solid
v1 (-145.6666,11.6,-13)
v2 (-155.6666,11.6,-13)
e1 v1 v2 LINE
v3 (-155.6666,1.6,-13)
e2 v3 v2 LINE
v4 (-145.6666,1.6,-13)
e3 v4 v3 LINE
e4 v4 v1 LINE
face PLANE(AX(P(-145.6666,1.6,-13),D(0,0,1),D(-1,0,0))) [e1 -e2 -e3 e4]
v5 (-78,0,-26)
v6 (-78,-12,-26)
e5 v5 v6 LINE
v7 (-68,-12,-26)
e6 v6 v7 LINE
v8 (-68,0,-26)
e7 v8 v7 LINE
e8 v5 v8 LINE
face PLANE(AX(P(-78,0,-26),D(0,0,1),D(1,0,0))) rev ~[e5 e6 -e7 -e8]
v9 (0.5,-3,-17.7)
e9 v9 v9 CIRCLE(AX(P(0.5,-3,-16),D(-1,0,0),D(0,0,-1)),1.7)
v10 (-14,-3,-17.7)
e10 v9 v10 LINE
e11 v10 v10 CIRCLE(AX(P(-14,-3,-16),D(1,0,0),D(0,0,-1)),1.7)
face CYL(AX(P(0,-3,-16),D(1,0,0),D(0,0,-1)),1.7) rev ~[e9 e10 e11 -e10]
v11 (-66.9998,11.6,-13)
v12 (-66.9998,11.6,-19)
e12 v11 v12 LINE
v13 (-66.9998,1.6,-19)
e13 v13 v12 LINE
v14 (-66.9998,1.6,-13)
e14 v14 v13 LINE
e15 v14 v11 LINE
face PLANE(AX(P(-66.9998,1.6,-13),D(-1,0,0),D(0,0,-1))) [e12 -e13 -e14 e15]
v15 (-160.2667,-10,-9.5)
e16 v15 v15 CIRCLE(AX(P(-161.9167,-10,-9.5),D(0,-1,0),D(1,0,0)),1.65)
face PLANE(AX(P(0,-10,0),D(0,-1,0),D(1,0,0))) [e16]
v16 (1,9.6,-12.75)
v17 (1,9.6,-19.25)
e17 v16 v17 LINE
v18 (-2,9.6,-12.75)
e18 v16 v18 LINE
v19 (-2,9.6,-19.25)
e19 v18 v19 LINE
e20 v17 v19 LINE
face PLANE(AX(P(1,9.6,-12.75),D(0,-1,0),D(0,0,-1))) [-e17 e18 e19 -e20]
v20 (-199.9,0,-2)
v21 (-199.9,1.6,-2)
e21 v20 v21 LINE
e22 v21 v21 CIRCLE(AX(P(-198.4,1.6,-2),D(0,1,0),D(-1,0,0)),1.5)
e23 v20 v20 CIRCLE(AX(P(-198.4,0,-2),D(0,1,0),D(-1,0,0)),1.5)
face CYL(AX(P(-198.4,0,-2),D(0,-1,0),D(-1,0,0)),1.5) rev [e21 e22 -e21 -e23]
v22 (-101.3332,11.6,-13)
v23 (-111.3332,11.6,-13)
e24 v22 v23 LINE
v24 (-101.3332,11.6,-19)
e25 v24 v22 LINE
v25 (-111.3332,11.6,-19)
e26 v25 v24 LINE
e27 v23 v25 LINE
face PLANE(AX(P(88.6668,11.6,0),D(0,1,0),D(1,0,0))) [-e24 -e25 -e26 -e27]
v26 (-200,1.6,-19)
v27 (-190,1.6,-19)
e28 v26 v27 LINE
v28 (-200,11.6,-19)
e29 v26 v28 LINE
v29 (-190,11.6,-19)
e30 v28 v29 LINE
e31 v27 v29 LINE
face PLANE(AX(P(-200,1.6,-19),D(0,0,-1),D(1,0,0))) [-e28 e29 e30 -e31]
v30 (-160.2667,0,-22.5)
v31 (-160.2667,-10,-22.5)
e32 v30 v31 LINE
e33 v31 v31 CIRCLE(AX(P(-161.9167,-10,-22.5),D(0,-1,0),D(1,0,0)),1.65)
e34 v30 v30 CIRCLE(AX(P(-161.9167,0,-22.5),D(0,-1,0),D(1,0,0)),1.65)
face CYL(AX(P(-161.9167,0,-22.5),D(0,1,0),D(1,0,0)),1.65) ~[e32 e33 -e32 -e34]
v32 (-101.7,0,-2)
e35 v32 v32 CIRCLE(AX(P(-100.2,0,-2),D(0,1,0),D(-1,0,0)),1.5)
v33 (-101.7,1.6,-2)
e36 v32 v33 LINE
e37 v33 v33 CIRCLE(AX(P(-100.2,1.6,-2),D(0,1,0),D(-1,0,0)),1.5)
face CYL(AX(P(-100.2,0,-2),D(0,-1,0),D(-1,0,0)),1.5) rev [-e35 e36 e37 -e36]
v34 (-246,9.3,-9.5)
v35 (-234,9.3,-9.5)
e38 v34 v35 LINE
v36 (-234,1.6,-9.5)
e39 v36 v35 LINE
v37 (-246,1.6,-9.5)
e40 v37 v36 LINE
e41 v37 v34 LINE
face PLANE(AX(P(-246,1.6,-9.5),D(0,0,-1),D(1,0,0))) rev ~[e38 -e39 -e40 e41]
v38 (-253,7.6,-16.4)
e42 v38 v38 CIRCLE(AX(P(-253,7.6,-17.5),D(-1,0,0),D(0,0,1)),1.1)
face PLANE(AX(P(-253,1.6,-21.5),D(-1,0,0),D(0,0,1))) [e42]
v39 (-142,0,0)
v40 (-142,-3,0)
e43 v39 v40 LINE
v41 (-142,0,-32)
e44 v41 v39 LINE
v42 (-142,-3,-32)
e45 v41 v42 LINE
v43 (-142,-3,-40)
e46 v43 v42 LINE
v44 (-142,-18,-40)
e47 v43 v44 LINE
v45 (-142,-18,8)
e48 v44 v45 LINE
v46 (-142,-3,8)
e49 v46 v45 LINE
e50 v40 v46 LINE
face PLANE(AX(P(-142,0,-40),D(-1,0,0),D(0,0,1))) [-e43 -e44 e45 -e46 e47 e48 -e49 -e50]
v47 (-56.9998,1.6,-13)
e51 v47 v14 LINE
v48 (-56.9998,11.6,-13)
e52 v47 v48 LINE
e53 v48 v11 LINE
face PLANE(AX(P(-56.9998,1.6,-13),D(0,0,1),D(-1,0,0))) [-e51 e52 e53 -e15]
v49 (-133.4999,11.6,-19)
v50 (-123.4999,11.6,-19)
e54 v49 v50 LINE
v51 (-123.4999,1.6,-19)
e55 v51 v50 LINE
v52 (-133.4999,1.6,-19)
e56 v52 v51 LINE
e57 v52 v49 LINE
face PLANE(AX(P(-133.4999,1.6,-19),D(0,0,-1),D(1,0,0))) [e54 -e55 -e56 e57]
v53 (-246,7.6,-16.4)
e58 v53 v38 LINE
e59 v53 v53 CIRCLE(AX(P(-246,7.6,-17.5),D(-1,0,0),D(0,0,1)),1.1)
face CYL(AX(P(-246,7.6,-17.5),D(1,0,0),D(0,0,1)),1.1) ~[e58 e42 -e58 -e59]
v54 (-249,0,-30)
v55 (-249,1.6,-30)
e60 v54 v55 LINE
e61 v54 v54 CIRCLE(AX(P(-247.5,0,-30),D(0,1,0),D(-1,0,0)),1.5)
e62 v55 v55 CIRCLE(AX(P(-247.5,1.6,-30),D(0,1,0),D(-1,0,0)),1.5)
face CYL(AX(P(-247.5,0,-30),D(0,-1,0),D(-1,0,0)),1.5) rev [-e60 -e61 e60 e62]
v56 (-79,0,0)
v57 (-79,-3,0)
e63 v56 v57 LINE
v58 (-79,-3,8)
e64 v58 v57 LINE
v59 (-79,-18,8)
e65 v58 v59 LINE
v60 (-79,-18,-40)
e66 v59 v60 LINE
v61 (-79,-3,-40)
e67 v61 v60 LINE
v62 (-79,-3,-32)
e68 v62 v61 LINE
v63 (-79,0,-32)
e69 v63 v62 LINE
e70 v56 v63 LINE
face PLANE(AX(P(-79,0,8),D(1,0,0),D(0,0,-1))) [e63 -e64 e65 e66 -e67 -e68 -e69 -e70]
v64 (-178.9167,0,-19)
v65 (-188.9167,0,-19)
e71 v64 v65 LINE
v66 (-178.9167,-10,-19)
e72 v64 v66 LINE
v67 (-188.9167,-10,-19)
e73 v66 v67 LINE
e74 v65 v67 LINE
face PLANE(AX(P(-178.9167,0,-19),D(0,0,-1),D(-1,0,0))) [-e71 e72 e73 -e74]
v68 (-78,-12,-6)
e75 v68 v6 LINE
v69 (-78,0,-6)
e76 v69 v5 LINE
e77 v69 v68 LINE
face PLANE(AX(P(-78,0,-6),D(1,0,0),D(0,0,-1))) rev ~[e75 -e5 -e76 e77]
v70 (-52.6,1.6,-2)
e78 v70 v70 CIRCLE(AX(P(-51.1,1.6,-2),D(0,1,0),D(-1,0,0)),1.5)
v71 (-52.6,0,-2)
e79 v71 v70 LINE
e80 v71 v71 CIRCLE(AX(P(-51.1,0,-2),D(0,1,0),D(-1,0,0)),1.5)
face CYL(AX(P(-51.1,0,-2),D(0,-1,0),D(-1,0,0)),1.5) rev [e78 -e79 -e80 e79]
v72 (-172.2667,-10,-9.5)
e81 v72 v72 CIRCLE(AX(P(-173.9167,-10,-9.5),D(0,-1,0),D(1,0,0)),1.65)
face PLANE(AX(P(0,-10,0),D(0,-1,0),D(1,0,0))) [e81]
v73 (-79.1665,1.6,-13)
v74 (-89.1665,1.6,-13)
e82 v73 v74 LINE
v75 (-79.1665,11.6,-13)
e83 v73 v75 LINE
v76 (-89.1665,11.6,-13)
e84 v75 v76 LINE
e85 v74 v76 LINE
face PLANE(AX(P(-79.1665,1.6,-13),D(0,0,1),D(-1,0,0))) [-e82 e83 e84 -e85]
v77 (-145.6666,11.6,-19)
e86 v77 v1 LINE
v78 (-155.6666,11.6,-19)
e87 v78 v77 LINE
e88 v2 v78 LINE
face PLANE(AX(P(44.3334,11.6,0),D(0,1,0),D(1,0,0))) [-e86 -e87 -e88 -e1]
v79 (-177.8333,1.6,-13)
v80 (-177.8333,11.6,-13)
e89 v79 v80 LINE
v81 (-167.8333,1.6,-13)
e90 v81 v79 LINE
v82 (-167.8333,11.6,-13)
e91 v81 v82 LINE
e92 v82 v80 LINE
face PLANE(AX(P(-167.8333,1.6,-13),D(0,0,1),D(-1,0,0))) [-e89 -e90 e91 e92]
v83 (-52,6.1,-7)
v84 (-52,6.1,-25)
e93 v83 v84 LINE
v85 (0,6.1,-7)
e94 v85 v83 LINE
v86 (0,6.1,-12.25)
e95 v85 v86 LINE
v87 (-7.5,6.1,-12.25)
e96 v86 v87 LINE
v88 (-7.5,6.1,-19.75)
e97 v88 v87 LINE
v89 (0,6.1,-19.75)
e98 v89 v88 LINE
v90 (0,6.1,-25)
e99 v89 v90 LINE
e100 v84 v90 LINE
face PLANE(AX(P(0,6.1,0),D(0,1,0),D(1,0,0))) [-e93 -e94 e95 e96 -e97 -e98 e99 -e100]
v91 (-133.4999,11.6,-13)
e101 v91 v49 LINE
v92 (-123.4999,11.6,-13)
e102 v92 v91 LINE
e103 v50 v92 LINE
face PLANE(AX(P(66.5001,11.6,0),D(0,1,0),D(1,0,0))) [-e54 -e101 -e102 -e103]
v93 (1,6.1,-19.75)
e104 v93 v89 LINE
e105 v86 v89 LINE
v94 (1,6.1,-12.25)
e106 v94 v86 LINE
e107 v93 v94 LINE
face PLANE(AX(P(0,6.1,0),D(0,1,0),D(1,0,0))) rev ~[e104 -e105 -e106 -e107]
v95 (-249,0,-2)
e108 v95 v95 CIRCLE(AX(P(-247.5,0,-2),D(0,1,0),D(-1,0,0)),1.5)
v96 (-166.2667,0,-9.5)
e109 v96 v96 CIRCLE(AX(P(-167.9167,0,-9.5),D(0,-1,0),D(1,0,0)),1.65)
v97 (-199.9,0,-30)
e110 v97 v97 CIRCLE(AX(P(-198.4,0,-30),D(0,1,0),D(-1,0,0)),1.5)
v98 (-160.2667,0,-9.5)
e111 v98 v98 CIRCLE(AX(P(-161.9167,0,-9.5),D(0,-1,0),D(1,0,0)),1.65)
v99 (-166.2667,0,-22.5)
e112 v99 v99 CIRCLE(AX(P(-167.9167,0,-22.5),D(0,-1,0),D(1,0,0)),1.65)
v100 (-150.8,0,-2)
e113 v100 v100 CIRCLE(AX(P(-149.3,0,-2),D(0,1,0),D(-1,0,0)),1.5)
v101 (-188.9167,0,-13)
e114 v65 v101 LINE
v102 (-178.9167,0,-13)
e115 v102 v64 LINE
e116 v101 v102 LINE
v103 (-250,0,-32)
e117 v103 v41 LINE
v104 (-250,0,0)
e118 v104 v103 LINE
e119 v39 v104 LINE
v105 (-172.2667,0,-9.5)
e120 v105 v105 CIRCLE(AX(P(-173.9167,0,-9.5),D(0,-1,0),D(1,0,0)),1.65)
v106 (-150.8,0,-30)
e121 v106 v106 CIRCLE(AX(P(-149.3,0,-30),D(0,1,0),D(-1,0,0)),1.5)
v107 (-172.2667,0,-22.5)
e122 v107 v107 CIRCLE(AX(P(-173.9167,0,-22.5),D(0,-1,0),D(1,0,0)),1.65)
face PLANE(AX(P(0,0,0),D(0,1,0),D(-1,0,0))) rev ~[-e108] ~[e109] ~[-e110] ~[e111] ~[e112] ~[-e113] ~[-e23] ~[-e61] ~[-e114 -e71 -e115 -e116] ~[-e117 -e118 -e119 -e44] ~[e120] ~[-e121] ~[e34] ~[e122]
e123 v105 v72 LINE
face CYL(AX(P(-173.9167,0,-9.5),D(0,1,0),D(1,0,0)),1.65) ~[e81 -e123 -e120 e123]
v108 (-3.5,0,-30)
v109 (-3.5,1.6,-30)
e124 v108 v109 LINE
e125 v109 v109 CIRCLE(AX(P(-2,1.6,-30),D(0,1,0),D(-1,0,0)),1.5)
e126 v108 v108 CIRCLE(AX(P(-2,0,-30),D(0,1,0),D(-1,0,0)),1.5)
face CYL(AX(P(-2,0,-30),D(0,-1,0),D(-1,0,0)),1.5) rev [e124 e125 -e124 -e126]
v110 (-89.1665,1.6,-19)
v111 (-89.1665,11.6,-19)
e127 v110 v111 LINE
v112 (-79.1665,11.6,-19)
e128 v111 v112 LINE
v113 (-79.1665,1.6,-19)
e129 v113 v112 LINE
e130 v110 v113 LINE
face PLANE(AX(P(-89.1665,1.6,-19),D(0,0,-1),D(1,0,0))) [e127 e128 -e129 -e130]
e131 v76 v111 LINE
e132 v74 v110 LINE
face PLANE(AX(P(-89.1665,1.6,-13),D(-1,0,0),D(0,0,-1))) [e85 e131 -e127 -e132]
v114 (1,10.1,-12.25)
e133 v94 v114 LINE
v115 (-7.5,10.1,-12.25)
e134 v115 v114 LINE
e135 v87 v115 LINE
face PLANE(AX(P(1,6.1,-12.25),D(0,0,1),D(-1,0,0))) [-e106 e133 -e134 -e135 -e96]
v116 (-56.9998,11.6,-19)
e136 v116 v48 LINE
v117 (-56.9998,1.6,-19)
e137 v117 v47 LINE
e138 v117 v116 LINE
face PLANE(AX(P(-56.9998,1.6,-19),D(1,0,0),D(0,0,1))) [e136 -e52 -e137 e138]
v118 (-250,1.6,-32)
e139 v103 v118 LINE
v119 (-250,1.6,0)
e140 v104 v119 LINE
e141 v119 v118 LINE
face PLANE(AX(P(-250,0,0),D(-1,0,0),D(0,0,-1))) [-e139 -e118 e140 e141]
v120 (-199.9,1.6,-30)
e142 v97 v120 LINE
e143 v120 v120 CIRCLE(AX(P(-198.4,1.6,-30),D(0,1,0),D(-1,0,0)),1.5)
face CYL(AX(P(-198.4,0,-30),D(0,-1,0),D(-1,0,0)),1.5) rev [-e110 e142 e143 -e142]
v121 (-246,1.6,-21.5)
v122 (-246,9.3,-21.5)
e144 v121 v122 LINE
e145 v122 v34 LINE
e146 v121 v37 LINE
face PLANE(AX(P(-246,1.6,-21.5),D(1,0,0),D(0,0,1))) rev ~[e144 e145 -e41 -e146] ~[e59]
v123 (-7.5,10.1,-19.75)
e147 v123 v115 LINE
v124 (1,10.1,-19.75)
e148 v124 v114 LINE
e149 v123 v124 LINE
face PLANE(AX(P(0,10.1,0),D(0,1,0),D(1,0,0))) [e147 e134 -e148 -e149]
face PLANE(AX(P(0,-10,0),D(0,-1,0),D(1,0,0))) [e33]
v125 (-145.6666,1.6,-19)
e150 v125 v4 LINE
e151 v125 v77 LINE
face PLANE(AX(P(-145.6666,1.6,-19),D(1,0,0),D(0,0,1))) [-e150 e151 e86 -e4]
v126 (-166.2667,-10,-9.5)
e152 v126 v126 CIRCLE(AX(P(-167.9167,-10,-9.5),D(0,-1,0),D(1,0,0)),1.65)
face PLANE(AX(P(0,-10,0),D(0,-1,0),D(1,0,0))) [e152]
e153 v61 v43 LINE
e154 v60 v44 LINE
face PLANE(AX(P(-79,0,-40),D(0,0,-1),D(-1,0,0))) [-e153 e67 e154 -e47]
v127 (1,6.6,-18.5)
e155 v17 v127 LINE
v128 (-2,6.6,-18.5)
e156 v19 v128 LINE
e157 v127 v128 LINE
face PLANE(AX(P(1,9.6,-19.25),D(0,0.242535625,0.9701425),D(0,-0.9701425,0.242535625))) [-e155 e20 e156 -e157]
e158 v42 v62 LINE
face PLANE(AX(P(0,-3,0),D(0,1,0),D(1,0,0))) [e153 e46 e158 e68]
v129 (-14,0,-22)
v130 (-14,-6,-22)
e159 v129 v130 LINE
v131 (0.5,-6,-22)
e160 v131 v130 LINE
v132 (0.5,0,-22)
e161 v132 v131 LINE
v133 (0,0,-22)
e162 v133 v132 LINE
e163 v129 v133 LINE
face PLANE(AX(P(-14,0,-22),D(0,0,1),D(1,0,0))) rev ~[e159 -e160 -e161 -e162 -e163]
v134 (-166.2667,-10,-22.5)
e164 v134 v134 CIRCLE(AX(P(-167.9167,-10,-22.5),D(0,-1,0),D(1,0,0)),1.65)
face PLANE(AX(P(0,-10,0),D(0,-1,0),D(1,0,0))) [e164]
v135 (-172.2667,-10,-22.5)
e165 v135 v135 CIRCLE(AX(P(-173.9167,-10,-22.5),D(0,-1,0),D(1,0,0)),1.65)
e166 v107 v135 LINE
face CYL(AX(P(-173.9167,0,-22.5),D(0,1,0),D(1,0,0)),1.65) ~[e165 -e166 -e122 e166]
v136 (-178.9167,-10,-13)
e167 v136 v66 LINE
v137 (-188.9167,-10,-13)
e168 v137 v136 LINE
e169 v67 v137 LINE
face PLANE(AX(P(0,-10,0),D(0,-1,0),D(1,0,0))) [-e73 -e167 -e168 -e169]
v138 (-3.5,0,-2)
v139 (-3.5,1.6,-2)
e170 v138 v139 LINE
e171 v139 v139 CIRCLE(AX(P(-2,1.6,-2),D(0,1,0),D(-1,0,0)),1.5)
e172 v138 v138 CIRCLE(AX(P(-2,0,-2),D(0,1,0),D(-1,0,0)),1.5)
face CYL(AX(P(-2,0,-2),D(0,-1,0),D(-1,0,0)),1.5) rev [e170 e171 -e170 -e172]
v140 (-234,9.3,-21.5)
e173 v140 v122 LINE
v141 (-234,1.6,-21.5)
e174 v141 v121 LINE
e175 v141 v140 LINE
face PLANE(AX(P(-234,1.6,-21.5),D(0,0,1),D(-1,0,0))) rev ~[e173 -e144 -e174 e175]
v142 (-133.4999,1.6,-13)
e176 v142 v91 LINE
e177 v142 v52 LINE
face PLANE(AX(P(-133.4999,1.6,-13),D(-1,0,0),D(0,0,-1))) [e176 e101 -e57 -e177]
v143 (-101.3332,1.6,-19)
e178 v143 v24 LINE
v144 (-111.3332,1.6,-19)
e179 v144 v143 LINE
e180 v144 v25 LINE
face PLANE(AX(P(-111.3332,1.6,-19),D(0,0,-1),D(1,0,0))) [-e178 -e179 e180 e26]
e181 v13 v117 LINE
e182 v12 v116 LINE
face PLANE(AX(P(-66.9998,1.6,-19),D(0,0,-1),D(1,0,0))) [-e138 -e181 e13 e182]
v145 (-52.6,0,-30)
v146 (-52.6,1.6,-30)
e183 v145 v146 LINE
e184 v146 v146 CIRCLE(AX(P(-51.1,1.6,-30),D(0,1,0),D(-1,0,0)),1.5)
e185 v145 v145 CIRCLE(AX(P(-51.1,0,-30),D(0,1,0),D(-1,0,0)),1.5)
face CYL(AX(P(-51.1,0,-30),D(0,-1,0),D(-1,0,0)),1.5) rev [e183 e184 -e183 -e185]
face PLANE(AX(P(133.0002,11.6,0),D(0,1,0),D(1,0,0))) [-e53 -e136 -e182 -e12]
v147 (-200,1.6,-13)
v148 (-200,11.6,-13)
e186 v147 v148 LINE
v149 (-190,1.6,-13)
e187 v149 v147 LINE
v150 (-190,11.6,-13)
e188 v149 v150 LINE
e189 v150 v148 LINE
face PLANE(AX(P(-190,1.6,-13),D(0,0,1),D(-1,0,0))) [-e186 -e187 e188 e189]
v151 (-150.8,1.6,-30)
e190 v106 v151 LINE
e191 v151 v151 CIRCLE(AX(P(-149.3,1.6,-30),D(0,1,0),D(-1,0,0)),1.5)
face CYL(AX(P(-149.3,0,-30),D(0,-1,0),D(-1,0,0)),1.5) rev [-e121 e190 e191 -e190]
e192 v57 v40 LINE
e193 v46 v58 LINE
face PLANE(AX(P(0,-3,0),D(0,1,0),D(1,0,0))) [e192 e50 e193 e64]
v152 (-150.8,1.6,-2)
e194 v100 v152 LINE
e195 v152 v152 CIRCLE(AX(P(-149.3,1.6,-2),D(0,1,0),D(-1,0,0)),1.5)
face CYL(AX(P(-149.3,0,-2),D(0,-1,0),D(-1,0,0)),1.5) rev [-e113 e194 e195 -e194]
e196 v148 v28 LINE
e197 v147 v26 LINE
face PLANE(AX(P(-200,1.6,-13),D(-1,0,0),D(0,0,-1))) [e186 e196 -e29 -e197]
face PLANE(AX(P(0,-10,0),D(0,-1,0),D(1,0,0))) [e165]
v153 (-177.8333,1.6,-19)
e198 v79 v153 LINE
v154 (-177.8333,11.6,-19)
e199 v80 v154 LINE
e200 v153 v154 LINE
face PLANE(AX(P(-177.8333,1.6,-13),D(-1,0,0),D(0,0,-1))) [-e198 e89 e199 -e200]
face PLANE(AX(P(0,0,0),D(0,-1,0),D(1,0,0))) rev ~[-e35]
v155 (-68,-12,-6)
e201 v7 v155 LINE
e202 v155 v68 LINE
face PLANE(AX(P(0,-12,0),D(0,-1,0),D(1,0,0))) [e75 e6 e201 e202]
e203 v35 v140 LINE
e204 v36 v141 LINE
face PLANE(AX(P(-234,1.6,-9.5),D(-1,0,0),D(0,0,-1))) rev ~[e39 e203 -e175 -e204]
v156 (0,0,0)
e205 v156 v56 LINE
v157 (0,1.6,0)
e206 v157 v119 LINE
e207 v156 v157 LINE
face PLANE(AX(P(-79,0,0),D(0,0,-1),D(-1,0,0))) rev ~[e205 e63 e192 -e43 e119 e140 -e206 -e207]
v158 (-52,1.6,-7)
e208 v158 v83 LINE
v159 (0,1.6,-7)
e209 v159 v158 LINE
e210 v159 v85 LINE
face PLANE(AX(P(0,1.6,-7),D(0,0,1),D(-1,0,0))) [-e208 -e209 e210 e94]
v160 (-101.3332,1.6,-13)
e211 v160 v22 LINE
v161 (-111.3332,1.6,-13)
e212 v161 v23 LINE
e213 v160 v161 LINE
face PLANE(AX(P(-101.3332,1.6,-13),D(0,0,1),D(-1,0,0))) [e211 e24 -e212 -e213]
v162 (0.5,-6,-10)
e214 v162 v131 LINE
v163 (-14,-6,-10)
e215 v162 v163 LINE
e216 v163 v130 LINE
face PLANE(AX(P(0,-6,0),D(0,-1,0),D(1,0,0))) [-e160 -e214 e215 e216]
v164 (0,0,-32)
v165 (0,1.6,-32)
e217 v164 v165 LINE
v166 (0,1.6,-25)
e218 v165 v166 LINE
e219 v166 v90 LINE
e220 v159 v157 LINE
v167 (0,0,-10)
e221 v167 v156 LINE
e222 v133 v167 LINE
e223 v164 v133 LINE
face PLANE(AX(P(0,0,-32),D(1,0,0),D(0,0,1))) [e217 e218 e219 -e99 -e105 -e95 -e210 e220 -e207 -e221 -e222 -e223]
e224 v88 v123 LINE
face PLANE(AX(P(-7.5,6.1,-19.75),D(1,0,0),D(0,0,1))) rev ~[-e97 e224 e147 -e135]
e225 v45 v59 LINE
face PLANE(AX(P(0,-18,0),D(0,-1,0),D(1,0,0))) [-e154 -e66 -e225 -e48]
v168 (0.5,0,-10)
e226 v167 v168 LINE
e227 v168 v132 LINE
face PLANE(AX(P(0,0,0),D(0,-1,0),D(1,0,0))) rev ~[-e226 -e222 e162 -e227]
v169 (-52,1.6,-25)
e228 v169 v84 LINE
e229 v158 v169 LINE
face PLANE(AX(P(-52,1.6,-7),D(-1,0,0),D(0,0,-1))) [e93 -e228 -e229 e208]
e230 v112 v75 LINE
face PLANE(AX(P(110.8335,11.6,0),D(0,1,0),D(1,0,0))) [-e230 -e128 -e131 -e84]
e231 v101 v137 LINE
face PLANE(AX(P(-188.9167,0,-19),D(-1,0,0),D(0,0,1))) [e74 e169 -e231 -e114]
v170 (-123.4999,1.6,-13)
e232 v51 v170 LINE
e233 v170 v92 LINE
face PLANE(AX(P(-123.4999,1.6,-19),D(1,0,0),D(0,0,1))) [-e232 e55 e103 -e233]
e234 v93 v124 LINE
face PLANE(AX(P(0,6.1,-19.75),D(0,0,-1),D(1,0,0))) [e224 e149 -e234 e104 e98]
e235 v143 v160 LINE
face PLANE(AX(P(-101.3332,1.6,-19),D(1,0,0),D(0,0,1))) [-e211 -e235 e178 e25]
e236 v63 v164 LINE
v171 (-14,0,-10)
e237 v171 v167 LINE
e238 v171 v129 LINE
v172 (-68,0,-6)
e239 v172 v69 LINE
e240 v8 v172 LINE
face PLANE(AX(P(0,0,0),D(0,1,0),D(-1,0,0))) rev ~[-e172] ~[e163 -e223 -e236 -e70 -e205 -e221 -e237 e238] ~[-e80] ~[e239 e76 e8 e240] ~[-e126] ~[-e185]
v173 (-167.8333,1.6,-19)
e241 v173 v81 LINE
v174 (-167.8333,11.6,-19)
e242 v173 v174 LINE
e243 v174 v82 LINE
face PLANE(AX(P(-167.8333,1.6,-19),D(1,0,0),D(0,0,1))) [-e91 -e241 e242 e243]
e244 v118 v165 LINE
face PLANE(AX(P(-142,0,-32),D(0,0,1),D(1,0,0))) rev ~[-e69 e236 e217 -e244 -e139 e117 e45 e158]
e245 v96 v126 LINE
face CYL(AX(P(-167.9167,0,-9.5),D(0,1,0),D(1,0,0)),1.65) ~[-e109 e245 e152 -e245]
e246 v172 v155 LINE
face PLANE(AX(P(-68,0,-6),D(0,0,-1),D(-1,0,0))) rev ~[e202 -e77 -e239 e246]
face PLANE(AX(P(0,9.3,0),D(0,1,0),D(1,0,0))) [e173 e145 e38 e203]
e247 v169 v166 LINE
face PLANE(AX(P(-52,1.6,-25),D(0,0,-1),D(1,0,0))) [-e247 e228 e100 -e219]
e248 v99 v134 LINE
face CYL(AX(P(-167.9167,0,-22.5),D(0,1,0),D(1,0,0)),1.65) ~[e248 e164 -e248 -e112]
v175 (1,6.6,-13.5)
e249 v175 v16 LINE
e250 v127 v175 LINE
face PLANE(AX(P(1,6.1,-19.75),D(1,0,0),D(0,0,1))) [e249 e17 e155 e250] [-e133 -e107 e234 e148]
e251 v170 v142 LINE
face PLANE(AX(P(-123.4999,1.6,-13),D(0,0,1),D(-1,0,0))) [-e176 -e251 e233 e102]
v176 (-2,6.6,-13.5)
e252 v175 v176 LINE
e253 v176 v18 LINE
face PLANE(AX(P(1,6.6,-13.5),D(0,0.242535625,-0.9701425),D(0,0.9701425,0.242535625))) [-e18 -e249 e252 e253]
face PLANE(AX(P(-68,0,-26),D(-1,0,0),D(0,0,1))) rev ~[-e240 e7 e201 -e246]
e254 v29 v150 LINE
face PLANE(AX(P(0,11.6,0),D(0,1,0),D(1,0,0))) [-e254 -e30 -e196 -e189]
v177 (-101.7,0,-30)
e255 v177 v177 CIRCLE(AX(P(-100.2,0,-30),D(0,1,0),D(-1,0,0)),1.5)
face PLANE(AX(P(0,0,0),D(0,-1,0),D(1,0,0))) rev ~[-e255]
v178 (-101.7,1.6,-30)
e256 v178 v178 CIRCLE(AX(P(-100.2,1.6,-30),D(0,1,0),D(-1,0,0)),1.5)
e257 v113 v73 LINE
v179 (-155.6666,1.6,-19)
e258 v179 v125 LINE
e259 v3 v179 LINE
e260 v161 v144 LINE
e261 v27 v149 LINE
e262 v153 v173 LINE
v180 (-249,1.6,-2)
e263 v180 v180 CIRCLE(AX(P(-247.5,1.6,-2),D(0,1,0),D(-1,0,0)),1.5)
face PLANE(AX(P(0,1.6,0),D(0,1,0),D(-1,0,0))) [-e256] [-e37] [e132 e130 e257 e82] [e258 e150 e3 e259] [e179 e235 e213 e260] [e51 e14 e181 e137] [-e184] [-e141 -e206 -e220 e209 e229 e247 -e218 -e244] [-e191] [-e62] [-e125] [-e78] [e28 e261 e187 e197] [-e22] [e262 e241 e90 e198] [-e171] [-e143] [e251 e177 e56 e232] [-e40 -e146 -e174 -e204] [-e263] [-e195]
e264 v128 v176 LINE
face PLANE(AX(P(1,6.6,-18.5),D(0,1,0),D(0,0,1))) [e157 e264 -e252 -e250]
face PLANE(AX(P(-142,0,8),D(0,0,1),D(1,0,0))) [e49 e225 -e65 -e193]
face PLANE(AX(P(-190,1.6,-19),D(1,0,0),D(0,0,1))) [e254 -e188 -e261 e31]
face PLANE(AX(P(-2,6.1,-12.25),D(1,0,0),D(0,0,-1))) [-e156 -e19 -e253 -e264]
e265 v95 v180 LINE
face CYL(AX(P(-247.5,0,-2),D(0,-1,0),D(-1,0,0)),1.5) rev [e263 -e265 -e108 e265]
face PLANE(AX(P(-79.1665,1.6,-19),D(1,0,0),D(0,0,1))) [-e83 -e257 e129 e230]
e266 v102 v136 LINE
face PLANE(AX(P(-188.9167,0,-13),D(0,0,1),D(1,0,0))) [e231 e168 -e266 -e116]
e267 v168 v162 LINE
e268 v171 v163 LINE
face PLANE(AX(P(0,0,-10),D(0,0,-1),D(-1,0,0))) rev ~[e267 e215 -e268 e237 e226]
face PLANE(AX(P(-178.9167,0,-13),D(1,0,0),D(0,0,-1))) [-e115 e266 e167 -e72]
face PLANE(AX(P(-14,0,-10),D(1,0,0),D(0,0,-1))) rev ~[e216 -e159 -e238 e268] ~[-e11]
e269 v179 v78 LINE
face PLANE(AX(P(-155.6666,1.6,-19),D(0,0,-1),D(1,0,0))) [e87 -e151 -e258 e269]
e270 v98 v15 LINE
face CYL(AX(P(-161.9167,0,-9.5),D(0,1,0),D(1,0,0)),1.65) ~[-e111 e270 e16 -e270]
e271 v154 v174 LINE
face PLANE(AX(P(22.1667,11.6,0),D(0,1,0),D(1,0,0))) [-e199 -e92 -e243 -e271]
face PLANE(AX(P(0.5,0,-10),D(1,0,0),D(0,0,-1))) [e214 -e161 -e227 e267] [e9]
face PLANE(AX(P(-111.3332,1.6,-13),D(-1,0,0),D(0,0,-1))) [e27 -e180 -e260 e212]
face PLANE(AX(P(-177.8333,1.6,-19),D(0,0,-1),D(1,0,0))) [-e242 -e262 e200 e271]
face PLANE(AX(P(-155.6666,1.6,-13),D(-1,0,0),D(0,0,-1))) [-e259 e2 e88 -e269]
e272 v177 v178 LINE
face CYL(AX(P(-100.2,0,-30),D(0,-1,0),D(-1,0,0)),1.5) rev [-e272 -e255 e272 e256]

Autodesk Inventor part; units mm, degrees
ref_plane "YZ Plane" through (0, 0, 0) normal (1, 0, 0) x (0, 1, 0)
ref_plane "XZ Plane" through (0, 0, 0) normal (0, 1, 0) x (-1, 0, 0)
ref_plane "XY Plane" through (0, 0, 0) normal (0, 0, 1) x (1, 0, 0)
sketch "Esquisse1" plane through (0, 0, 0) normal (0, 1, 0) x (-1, 0, 0)
  line L0 (0, 0) -> (250, 0)
  line L1 (250, 0) -> (250, -32)
  line L2 (250, -32) -> (0, -32)
  line L3 (0, -32) -> (0, 0)
  circle A0 centre (2, -2) radius 1.5
  line L4 (250, -16) -> (0, -16) construction
  circle A1 centre (2, -30) radius 1.5
  circle A2 centre (51.1, -2) radius 1.5
  circle A3 centre (51.1, -30) radius 1.5
  circle A4 centre (100.2, -2) radius 1.5
  circle A5 centre (100.2, -30) radius 1.5
  circle A6 centre (149.3, -2) radius 1.5
  circle A7 centre (149.3, -30) radius 1.5
  circle A8 centre (198.4, -2) radius 1.5
  circle A9 centre (198.4, -30) radius 1.5
  circle A10 centre (247.5, -2) radius 1.5
  circle A11 centre (247.5, -30) radius 1.5
  dimension "d0" = 32
  dimension "d1" = 250
  dimension "d2" = 2
  dimension "d3" = 2
  dimension "d4" = 3
  dimension "d7" = 49.1
extrude "Extrusion1" add sketch "Esquisse1" along normal blind 1.6
sketch "Esquisse2" plane through (0, 1.6, 0) normal (0, 1, 0) x (1, 0, 0)
  circle A0 centre (-247.5, 30) radius 1.5 construction
  circle A1 centre (-247.5, 2) radius 1.5 construction
  circle A2 centre (-198.4, 30) radius 1.5 construction
  circle A3 centre (-198.4, 2) radius 1.5 construction
  circle A4 centre (-149.3, 30) radius 1.5 construction
  circle A5 centre (-149.3, 2) radius 1.5 construction
  circle A6 centre (-100.2, 30) radius 1.5 construction
  circle A7 centre (-100.2, 2) radius 1.5 construction
  circle A8 centre (-51.1, 30) radius 1.5 construction
  circle A9 centre (-51.1, 2) radius 1.5 construction
  circle A10 centre (-2, 30) radius 1.5 construction
  circle A11 centre (-2, 2) radius 1.5 construction
  line L0 (-250, 0) -> (0, 0) construction
  line L1 (0, 0) -> (0, 32) construction
  line L2 (0, 32) -> (-250, 32) construction
  line L3 (-250, 32) -> (-250, 0) construction
  line L4 (-246, 9.5) -> (-234, 9.5)
  line L5 (-234, 9.5) -> (-234, 21.5)
  line L6 (-234, 21.5) -> (-246, 21.5)
  line L7 (-246, 21.5) -> (-246, 9.5)
  dimension "d14" = 12
  dimension "d15" = 9.5
  dimension "d16" = 4
extrude "Extrusion2" add sketch "Esquisse2" along normal blind 7.7
sketch "Esquisse3" plane through (-246, 1.6, -21.5) normal (-1, 0, 0) x (0, 0, 1)
  circle A0 centre (4, 6) radius 1.1
  line L0 (-10.5, 0) -> (21.5, 0) projected
  line L1 (0, 0) -> (0, 7.7) projected
  line L2 (-10.5, -1.6) -> (21.5, -1.6) projected
  line L3 (5.5, -1.6) -> (5.5, 11.8569) construction
  dimension "d19" = 6
  dimension "d20" = 2.2
  dimension "d21" = 4
extrude "Extrusion3" add sketch "Esquisse3" along normal blind 7
sketch "Esquisse4" plane through (0, 1.6, 0) normal (0, 1, 0) x (1, 0, 0)
  line L0 (-246, 9.5) -> (-246, 21.5) projected
  line L1 (-246, 21.5) -> (-234, 21.5) projected
  line L2 (-234, 21.5) -> (-234, 9.5) projected
  line L3 (-234, 9.5) -> (-246, 9.5) projected
  circle A0 centre (-247.5, 30) radius 1.5 projected
  circle A1 centre (-247.5, 2) radius 1.5 projected
  circle A2 centre (-198.4, 30) radius 1.5 projected
  circle A3 centre (-198.4, 2) radius 1.5 projected
  circle A4 centre (-149.3, 30) radius 1.5 projected
  circle A5 centre (-149.3, 2) radius 1.5 projected
  circle A6 centre (-100.2, 30) radius 1.5 projected
  circle A7 centre (-100.2, 2) radius 1.5 projected
  circle A8 centre (-51.1, 30) radius 1.5 projected
  circle A9 centre (-51.1, 2) radius 1.5 projected
  circle A10 centre (-2, 30) radius 1.5 projected
  circle A11 centre (-2, 2) radius 1.5 projected
  line L4 (-250, 0) -> (0, 0) projected
  line L5 (0, 0) -> (0, 32) projected
  line L6 (0, 32) -> (-250, 32) projected
  line L7 (-250, 32) -> (-250, 0) projected
  line L8 (0, 0) -> (0, 32) construction
  line L9 (0, 16) -> (-250, 16) construction
  line L10 (-200, 19) -> (-190, 19)
  line L11 (-190, 19) -> (-190, 13)
  line L12 (-190, 13) -> (-200, 13)
  line L13 (-200, 13) -> (-200, 19)
  line L14 (-190, 16) -> (-200, 16) construction
  line L15 (-195, 19) -> (-195, 13) construction
  dimension "d24" = 10
  dimension "d26" = 6
  dimension "d29" = 55
extrude "Extrusion4" add sketch "Esquisse4" along normal blind 10 contours L10 L11 L12 L13
pattern_linear "Réseau rectangulaire1" count 7 spacing 22.1667 along (1, 0, 0) of "Extrusion4"
sketch "Esquisse6" plane through (0, 0, 0) normal (0, -1, 0) x (1, 0, 0)
  line L0 (-177.8333, -13) -> (-177.8333, -19) projected
  line L1 (-190, -19) -> (-190, -13) projected
  line L2 (-188.9167, -13) -> (-178.9167, -13)
  line L3 (-178.9167, -13) -> (-178.9167, -19)
  line L4 (-178.9167, -19) -> (-188.9167, -19)
  line L5 (-188.9167, -19) -> (-188.9167, -13)
  line L6 (-188.9167, -16) -> (-178.9167, -16) construction
  line L7 (-177.8333, -19) -> (-177.8333, -13) construction
  line L8 (-177.8333, -16) -> (-190, -16) construction
  line L9 (-190, -13) -> (-190, -19) construction
  point P0 (0, 0)
  point P1 (-183.9167, -16)
  dimension "d33" = 10
  dimension "d34" = 6
extrude "Extrusion5" add sketch "Esquisse6" along normal blind 10
sketch "Esquisse9" plane through (0, 0, 0) normal (0, -1, 0) x (1, 0, 0)
  line L0 (0, 0) -> (-250, 0) projected
  line L1 (-250, 0) -> (-250, -32) projected
  line L2 (-250, -32) -> (0, -32) projected
  line L3 (0, -32) -> (0, 0) projected
  circle A0 centre (-2, -2) radius 1.5 projected
  circle A1 centre (-2, -30) radius 1.5 projected
  circle A2 centre (-51.1, -2) radius 1.5 projected
  circle A3 centre (-51.1, -30) radius 1.5 projected
  circle A4 centre (-100.2, -30) radius 1.5 projected
  circle A5 centre (-100.2, -2) radius 1.5 projected
  circle A6 centre (-149.3, -2) radius 1.5 projected
  circle A7 centre (-149.3, -30) radius 1.5 projected
  circle A8 centre (-198.4, -2) radius 1.5 projected
  circle A9 centre (-198.4, -30) radius 1.5 projected
  circle A10 centre (-247.5, -2) radius 1.5 projected
  circle A11 centre (-247.5, -30) radius 1.5 projected
  line L4 (-178.9167, -13) -> (-178.9167, -19) projected
  line L5 (-178.9167, -19) -> (-188.9167, -19) projected
  line L6 (-188.9167, -19) -> (-188.9167, -13) projected
  line L7 (-188.9167, -13) -> (-178.9167, -13) projected
  line L8 (-178.9167, -13) -> (-178.9167, -19) construction
  line L9 (-178.9167, -16) -> (-142, -16) construction
  line L10 (-142, -1) -> (-142, -31) construction
  circle A12 centre (-173.9167, -22.5) radius 1.65
  circle A13 centre (-167.9167, -22.5) radius 1.65
  circle A14 centre (-161.9167, -22.5) radius 1.65
  circle A15 centre (-173.9167, -9.5) radius 1.65
  circle A16 centre (-167.9167, -9.5) radius 1.65
  circle A17 centre (-161.9167, -9.5) radius 1.65
  dimension "d51" = 6
  dimension "d56" = 3.3
  dimension "d57" = 13
  dimension "d58" = 5
extrude "Extrusion8" add sketch "Esquisse9" along normal blind 10 contours A12 | A13 | A14 | A15 | A16 | A17
sketch "Esquisse11" plane through (0, 1.6, 0) normal (0, 1, 0) x (1, 0, 0)
  line L0 (-57, 19) -> (-57, 13) projected
  line L1 (-57, 13) -> (-67, 13) projected
  line L2 (-67, 13) -> (-67, 19) projected
  line L3 (-67, 19) -> (-57, 19) projected
  line L4 (-79.1667, 19) -> (-79.1667, 13) projected
  line L5 (-79.1667, 13) -> (-89.1667, 13) projected
  line L6 (-89.1667, 13) -> (-89.1667, 19) projected
  line L7 (-89.1667, 19) -> (-79.1667, 19) projected
  line L8 (-101.3333, 19) -> (-101.3333, 13) projected
  line L9 (-101.3333, 13) -> (-111.3333, 13) projected
  line L10 (-111.3333, 13) -> (-111.3333, 19) projected
  line L11 (-111.3333, 19) -> (-101.3333, 19) projected
  line L12 (-123.5, 19) -> (-123.5, 13) projected
  line L13 (-123.5, 13) -> (-133.5, 13) projected
  line L14 (-133.5, 13) -> (-133.5, 19) projected
  line L15 (-133.5, 19) -> (-123.5, 19) projected
  line L16 (-145.6667, 19) -> (-145.6667, 13) projected
  line L17 (-145.6667, 13) -> (-155.6667, 13) projected
  line L18 (-155.6667, 13) -> (-155.6667, 19) projected
  line L19 (-155.6667, 19) -> (-145.6667, 19) projected
  line L20 (-167.8333, 19) -> (-167.8333, 13) projected
  line L21 (-167.8333, 13) -> (-177.8333, 13) projected
  line L22 (-177.8333, 13) -> (-177.8333, 19) projected
  line L23 (-177.8333, 19) -> (-167.8333, 19) projected
  line L24 (-190, 19) -> (-190, 13) projected
  line L25 (-190, 13) -> (-200, 13) projected
  line L26 (-200, 13) -> (-200, 19) projected
  line L27 (-200, 19) -> (-190, 19) projected
  line L28 (-246, 9.5) -> (-246, 21.5) projected
  line L29 (-246, 21.5) -> (-234, 21.5) projected
  line L30 (-234, 21.5) -> (-234, 9.5) projected
  line L31 (-234, 9.5) -> (-246, 9.5) projected
  circle A0 centre (-247.5, 30) radius 1.5 projected
  circle A1 centre (-247.5, 2) radius 1.5 projected
  circle A2 centre (-198.4, 30) radius 1.5 projected
  circle A3 centre (-198.4, 2) radius 1.5 projected
  circle A4 centre (-149.3, 30) radius 1.5 projected
  circle A5 centre (-149.3, 2) radius 1.5 projected
  circle A6 centre (-100.2, 30) radius 1.5 projected
  circle A7 centre (-100.2, 2) radius 1.5 projected
  circle A8 centre (-51.1, 30) radius 1.5 projected
  circle A9 centre (-51.1, 2) radius 1.5 projected
  circle A10 centre (-2, 30) radius 1.5 projected
  circle A11 centre (-2, 2) radius 1.5 projected
  line L32 (-250, 0) -> (0, 0) projected
  line L33 (0, 0) -> (0, 32) projected
  line L34 (0, 32) -> (-250, 32) projected
  line L35 (-250, 32) -> (-250, 0) projected
  line L36 (-52, 25) -> (0, 25)
  line L37 (0, 25) -> (0, 7)
  line L38 (0, 7) -> (-52, 7)
  line L39 (-52, 7) -> (-52, 25)
  line L40 (-52, 16) -> (0, 16) construction
  line L41 (0, 0) -> (0, 32) construction
  line L42 (0, 16) -> (-57, 16) construction
  line L43 (-57, 19) -> (-57, 13) construction
  dimension "d61" = 18
  dimension "d62" = 52
extrude "Extrusion9" add sketch "Esquisse11" along normal blind 4.5 contours L38 L39 L36 L33
sketch "Esquisse12" plane through (0, 6.1, 0) normal (0, 1, 0) x (1, 0, 0)
  line L0 (0, 25) -> (-52, 25) projected
  line L1 (-52, 25) -> (-52, 7) projected
  line L2 (-52, 7) -> (0, 7) projected
  line L3 (0, 7) -> (0, 25) projected
  line L4 (0, 32) -> (0, 0) construction
  line L5 (0, 16) -> (-52, 16) construction
  line L6 (-52, 25) -> (-52, 7) construction
  line L7 (-7.5, 12.25) -> (0, 12.25)
  line L8 (0, 12.25) -> (0, 19.75)
  line L9 (0, 19.75) -> (-7.5, 19.75)
  line L10 (-7.5, 19.75) -> (-7.5, 12.25)
  line L11 (0, 19.75) -> (1, 19.75)
  line L12 (1, 19.75) -> (1, 12.25)
  line L13 (1, 12.25) -> (0, 12.25)
  line L14 (0, 12.25) -> (0, 19.75)
  point P0 (0, 16)
  dimension "d65" = 7.5
  dimension "d66" = 7.5
  dimension "d69" = 1
extrude "Extrusion10" add sketch "Esquisse12" along normal blind 4 contours L11 L12 L13 L3 | L3 L7 L10 L9
sketch "Esquisse13" plane through (1, 6.1, -12.25) normal (1, 0, 0) x (0, 0, -1)
  line L0 (0, 0) -> (7.5, 0) projected
  line L1 (7.5, 0) -> (7.5, 4) projected
  line L2 (0, 4) -> (7.5, 4) projected
  line L3 (0, 0) -> (0, 4) projected
  line L4 (0.5, 3.5) -> (7, 3.5)
  line L5 (7, 3.5) -> (6.25, 0.5)
  line L6 (6.25, 0.5) -> (1.25, 0.5)
  line L7 (1.25, 0.5) -> (0.5, 3.5)
  line L8 (3.75, 3.5) -> (3.75, 0.5) construction
  line L9 (7.5, 4) -> (0, 4) construction
  line L10 (3.75, 4) -> (3.75, 0) construction
  line L11 (12.75, 0) -> (-5.25, 0) construction
  point P0 (-12.25, -6.1)
  dimension "d71" = 0.5
  dimension "d72" = 0.5
  dimension "d73" = 0.5
  dimension "d74" = 5
extrude "Extrusion11" cut sketch "Esquisse13" against normal blind 3 contours L4 L5 L6 L7
sketch "Esquisse14" plane through (0, 0, 0) normal (0, -1, 0) x (1, 0, 0)
  line L0 (0, -10) -> (-14, -10)
  line L1 (-14, -10) -> (-14, -22)
  line L2 (-14, -22) -> (0, -22)
  line L3 (0, -22) -> (0, -10)
  line L4 (0, -12.25) -> (0, -19.75) construction
  line L5 (0, -16) -> (-15.2374, -16) construction
  line L6 (0, -16) -> (-14, -16) construction
  line L7 (0, -32) -> (0, 0) construction
  line L8 (0.5, -22) -> (0, -22)
  line L9 (0, -22) -> (0, -10)
  line L10 (0, -10) -> (0.5, -10)
  line L11 (0.5, -10) -> (0.5, -22)
  dimension "d77" = 12
  dimension "d78" = 14
  dimension "d85" = 0.5
extrude "Extrusion12" add sketch "Esquisse14" along normal blind 6
sketch "Esquisse15" plane through (0, 0, -32) normal (1, 0, 0) x (0, 0, -1)
  line L0 (0, 0) -> (-10, 0) projected
  line L1 (0, 0) -> (0, 1.6) projected
  line L2 (-7, 1.6) -> (0, 1.6) projected
  line L3 (-7, 1.6) -> (-7, 6.1) projected
  line L4 (-12.25, 6.1) -> (-7, 6.1) projected
  line L5 (-19.75, 6.1) -> (-12.25, 6.1) projected
  line L6 (-25, 6.1) -> (-19.75, 6.1) projected
  line L7 (-25, 1.6) -> (-25, 6.1) projected
  line L8 (-32, 1.6) -> (-25, 1.6) projected
  line L9 (-32, 0) -> (-32, 1.6) projected
  line L10 (-22, -6) -> (-10, -6) construction
  line L11 (-16, -6) -> (-16, -0.2) construction
  circle A0 centre (-16, -3) radius 1.7
  line L12 (-10, 0) -> (-22, 0) construction
  line L13 (-22, 0) -> (-32, 0) projected
  line L14 (-10, 0) -> (-22, 0) projected
  dimension "d81" = 3
  dimension "d82" = 3.4
extrude "Extrusion13" cut sketch "Esquisse15" along normal mid plane 40 contours A0
sketch "Esquisse16" plane through (0, 0, 0) normal (0, -1, 0) x (1, 0, 0)
  line L0 (-142, 8) -> (-79, 8)
  line L1 (-79, 8) -> (-79, -40)
  line L2 (-79, -40) -> (-142, -40)
  line L3 (-142, -40) -> (-142, 8)
  line L4 (-79, -16) -> (-142, -16) construction
  line L5 (-250, 0) -> (-250, -32) construction
  line L6 (-250, -16) -> (0, -16) construction
  line L7 (0, -32) -> (0, -22) construction
  line L8 (-14, -10) -> (-14, -22) construction
  point P0 (0, 0)
  dimension "d86" = 63
  dimension "d87" = 48
  dimension "d91" = 108
extrude "Extrusion14" add sketch "Esquisse16" along normal blind 18
sketch "Esquisse17" plane through (0, 0, 0) normal (0, -1, 0) x (1, 0, 0)
  line L0 (-78, -26) -> (-68, -26)
  line L1 (-68, -26) -> (-68, -6)
  line L2 (-68, -6) -> (-78, -6)
  line L3 (-78, -6) -> (-78, -26)
  line L4 (-14, -22) -> (-14, -10) construction
  line L5 (-14, -16) -> (-79, -16) construction
  line L6 (-79, 0) -> (-79, -32) construction
  line L7 (-78, -16) -> (-68, -16) construction
  line L8 (0, -10) -> (0, 0) construction
  dimension "d92" = 68
  dimension "d93" = 10
  dimension "d94" = 20
extrude "Extrusion15" add sketch "Esquisse17" along normal blind 12
sketch "Esquisse18" plane through (0, 0, 0) normal (0, 1, 0) x (1, 0, 0)
  line L0 (-142, 32) -> (-79, 32) projected
  line L1 (-79, 32) -> (-79, 40) projected
  line L2 (-79, 40) -> (-142, 40) projected
  line L3 (-142, 40) -> (-142, 32) projected
  line L4 (-79, 0) -> (-142, 0) projected
  line L5 (-142, 0) -> (-142, -8) projected
  line L6 (-142, -8) -> (-79, -8) projected
  line L7 (-79, -8) -> (-79, 0) projected
  point P0 (0, 0)
extrude "Extrusion16" cut sketch "Esquisse18" against normal blind 3
equation "\"d72\" = d71"
equation "\"d73\" = d71"
properties part number "electronics"
